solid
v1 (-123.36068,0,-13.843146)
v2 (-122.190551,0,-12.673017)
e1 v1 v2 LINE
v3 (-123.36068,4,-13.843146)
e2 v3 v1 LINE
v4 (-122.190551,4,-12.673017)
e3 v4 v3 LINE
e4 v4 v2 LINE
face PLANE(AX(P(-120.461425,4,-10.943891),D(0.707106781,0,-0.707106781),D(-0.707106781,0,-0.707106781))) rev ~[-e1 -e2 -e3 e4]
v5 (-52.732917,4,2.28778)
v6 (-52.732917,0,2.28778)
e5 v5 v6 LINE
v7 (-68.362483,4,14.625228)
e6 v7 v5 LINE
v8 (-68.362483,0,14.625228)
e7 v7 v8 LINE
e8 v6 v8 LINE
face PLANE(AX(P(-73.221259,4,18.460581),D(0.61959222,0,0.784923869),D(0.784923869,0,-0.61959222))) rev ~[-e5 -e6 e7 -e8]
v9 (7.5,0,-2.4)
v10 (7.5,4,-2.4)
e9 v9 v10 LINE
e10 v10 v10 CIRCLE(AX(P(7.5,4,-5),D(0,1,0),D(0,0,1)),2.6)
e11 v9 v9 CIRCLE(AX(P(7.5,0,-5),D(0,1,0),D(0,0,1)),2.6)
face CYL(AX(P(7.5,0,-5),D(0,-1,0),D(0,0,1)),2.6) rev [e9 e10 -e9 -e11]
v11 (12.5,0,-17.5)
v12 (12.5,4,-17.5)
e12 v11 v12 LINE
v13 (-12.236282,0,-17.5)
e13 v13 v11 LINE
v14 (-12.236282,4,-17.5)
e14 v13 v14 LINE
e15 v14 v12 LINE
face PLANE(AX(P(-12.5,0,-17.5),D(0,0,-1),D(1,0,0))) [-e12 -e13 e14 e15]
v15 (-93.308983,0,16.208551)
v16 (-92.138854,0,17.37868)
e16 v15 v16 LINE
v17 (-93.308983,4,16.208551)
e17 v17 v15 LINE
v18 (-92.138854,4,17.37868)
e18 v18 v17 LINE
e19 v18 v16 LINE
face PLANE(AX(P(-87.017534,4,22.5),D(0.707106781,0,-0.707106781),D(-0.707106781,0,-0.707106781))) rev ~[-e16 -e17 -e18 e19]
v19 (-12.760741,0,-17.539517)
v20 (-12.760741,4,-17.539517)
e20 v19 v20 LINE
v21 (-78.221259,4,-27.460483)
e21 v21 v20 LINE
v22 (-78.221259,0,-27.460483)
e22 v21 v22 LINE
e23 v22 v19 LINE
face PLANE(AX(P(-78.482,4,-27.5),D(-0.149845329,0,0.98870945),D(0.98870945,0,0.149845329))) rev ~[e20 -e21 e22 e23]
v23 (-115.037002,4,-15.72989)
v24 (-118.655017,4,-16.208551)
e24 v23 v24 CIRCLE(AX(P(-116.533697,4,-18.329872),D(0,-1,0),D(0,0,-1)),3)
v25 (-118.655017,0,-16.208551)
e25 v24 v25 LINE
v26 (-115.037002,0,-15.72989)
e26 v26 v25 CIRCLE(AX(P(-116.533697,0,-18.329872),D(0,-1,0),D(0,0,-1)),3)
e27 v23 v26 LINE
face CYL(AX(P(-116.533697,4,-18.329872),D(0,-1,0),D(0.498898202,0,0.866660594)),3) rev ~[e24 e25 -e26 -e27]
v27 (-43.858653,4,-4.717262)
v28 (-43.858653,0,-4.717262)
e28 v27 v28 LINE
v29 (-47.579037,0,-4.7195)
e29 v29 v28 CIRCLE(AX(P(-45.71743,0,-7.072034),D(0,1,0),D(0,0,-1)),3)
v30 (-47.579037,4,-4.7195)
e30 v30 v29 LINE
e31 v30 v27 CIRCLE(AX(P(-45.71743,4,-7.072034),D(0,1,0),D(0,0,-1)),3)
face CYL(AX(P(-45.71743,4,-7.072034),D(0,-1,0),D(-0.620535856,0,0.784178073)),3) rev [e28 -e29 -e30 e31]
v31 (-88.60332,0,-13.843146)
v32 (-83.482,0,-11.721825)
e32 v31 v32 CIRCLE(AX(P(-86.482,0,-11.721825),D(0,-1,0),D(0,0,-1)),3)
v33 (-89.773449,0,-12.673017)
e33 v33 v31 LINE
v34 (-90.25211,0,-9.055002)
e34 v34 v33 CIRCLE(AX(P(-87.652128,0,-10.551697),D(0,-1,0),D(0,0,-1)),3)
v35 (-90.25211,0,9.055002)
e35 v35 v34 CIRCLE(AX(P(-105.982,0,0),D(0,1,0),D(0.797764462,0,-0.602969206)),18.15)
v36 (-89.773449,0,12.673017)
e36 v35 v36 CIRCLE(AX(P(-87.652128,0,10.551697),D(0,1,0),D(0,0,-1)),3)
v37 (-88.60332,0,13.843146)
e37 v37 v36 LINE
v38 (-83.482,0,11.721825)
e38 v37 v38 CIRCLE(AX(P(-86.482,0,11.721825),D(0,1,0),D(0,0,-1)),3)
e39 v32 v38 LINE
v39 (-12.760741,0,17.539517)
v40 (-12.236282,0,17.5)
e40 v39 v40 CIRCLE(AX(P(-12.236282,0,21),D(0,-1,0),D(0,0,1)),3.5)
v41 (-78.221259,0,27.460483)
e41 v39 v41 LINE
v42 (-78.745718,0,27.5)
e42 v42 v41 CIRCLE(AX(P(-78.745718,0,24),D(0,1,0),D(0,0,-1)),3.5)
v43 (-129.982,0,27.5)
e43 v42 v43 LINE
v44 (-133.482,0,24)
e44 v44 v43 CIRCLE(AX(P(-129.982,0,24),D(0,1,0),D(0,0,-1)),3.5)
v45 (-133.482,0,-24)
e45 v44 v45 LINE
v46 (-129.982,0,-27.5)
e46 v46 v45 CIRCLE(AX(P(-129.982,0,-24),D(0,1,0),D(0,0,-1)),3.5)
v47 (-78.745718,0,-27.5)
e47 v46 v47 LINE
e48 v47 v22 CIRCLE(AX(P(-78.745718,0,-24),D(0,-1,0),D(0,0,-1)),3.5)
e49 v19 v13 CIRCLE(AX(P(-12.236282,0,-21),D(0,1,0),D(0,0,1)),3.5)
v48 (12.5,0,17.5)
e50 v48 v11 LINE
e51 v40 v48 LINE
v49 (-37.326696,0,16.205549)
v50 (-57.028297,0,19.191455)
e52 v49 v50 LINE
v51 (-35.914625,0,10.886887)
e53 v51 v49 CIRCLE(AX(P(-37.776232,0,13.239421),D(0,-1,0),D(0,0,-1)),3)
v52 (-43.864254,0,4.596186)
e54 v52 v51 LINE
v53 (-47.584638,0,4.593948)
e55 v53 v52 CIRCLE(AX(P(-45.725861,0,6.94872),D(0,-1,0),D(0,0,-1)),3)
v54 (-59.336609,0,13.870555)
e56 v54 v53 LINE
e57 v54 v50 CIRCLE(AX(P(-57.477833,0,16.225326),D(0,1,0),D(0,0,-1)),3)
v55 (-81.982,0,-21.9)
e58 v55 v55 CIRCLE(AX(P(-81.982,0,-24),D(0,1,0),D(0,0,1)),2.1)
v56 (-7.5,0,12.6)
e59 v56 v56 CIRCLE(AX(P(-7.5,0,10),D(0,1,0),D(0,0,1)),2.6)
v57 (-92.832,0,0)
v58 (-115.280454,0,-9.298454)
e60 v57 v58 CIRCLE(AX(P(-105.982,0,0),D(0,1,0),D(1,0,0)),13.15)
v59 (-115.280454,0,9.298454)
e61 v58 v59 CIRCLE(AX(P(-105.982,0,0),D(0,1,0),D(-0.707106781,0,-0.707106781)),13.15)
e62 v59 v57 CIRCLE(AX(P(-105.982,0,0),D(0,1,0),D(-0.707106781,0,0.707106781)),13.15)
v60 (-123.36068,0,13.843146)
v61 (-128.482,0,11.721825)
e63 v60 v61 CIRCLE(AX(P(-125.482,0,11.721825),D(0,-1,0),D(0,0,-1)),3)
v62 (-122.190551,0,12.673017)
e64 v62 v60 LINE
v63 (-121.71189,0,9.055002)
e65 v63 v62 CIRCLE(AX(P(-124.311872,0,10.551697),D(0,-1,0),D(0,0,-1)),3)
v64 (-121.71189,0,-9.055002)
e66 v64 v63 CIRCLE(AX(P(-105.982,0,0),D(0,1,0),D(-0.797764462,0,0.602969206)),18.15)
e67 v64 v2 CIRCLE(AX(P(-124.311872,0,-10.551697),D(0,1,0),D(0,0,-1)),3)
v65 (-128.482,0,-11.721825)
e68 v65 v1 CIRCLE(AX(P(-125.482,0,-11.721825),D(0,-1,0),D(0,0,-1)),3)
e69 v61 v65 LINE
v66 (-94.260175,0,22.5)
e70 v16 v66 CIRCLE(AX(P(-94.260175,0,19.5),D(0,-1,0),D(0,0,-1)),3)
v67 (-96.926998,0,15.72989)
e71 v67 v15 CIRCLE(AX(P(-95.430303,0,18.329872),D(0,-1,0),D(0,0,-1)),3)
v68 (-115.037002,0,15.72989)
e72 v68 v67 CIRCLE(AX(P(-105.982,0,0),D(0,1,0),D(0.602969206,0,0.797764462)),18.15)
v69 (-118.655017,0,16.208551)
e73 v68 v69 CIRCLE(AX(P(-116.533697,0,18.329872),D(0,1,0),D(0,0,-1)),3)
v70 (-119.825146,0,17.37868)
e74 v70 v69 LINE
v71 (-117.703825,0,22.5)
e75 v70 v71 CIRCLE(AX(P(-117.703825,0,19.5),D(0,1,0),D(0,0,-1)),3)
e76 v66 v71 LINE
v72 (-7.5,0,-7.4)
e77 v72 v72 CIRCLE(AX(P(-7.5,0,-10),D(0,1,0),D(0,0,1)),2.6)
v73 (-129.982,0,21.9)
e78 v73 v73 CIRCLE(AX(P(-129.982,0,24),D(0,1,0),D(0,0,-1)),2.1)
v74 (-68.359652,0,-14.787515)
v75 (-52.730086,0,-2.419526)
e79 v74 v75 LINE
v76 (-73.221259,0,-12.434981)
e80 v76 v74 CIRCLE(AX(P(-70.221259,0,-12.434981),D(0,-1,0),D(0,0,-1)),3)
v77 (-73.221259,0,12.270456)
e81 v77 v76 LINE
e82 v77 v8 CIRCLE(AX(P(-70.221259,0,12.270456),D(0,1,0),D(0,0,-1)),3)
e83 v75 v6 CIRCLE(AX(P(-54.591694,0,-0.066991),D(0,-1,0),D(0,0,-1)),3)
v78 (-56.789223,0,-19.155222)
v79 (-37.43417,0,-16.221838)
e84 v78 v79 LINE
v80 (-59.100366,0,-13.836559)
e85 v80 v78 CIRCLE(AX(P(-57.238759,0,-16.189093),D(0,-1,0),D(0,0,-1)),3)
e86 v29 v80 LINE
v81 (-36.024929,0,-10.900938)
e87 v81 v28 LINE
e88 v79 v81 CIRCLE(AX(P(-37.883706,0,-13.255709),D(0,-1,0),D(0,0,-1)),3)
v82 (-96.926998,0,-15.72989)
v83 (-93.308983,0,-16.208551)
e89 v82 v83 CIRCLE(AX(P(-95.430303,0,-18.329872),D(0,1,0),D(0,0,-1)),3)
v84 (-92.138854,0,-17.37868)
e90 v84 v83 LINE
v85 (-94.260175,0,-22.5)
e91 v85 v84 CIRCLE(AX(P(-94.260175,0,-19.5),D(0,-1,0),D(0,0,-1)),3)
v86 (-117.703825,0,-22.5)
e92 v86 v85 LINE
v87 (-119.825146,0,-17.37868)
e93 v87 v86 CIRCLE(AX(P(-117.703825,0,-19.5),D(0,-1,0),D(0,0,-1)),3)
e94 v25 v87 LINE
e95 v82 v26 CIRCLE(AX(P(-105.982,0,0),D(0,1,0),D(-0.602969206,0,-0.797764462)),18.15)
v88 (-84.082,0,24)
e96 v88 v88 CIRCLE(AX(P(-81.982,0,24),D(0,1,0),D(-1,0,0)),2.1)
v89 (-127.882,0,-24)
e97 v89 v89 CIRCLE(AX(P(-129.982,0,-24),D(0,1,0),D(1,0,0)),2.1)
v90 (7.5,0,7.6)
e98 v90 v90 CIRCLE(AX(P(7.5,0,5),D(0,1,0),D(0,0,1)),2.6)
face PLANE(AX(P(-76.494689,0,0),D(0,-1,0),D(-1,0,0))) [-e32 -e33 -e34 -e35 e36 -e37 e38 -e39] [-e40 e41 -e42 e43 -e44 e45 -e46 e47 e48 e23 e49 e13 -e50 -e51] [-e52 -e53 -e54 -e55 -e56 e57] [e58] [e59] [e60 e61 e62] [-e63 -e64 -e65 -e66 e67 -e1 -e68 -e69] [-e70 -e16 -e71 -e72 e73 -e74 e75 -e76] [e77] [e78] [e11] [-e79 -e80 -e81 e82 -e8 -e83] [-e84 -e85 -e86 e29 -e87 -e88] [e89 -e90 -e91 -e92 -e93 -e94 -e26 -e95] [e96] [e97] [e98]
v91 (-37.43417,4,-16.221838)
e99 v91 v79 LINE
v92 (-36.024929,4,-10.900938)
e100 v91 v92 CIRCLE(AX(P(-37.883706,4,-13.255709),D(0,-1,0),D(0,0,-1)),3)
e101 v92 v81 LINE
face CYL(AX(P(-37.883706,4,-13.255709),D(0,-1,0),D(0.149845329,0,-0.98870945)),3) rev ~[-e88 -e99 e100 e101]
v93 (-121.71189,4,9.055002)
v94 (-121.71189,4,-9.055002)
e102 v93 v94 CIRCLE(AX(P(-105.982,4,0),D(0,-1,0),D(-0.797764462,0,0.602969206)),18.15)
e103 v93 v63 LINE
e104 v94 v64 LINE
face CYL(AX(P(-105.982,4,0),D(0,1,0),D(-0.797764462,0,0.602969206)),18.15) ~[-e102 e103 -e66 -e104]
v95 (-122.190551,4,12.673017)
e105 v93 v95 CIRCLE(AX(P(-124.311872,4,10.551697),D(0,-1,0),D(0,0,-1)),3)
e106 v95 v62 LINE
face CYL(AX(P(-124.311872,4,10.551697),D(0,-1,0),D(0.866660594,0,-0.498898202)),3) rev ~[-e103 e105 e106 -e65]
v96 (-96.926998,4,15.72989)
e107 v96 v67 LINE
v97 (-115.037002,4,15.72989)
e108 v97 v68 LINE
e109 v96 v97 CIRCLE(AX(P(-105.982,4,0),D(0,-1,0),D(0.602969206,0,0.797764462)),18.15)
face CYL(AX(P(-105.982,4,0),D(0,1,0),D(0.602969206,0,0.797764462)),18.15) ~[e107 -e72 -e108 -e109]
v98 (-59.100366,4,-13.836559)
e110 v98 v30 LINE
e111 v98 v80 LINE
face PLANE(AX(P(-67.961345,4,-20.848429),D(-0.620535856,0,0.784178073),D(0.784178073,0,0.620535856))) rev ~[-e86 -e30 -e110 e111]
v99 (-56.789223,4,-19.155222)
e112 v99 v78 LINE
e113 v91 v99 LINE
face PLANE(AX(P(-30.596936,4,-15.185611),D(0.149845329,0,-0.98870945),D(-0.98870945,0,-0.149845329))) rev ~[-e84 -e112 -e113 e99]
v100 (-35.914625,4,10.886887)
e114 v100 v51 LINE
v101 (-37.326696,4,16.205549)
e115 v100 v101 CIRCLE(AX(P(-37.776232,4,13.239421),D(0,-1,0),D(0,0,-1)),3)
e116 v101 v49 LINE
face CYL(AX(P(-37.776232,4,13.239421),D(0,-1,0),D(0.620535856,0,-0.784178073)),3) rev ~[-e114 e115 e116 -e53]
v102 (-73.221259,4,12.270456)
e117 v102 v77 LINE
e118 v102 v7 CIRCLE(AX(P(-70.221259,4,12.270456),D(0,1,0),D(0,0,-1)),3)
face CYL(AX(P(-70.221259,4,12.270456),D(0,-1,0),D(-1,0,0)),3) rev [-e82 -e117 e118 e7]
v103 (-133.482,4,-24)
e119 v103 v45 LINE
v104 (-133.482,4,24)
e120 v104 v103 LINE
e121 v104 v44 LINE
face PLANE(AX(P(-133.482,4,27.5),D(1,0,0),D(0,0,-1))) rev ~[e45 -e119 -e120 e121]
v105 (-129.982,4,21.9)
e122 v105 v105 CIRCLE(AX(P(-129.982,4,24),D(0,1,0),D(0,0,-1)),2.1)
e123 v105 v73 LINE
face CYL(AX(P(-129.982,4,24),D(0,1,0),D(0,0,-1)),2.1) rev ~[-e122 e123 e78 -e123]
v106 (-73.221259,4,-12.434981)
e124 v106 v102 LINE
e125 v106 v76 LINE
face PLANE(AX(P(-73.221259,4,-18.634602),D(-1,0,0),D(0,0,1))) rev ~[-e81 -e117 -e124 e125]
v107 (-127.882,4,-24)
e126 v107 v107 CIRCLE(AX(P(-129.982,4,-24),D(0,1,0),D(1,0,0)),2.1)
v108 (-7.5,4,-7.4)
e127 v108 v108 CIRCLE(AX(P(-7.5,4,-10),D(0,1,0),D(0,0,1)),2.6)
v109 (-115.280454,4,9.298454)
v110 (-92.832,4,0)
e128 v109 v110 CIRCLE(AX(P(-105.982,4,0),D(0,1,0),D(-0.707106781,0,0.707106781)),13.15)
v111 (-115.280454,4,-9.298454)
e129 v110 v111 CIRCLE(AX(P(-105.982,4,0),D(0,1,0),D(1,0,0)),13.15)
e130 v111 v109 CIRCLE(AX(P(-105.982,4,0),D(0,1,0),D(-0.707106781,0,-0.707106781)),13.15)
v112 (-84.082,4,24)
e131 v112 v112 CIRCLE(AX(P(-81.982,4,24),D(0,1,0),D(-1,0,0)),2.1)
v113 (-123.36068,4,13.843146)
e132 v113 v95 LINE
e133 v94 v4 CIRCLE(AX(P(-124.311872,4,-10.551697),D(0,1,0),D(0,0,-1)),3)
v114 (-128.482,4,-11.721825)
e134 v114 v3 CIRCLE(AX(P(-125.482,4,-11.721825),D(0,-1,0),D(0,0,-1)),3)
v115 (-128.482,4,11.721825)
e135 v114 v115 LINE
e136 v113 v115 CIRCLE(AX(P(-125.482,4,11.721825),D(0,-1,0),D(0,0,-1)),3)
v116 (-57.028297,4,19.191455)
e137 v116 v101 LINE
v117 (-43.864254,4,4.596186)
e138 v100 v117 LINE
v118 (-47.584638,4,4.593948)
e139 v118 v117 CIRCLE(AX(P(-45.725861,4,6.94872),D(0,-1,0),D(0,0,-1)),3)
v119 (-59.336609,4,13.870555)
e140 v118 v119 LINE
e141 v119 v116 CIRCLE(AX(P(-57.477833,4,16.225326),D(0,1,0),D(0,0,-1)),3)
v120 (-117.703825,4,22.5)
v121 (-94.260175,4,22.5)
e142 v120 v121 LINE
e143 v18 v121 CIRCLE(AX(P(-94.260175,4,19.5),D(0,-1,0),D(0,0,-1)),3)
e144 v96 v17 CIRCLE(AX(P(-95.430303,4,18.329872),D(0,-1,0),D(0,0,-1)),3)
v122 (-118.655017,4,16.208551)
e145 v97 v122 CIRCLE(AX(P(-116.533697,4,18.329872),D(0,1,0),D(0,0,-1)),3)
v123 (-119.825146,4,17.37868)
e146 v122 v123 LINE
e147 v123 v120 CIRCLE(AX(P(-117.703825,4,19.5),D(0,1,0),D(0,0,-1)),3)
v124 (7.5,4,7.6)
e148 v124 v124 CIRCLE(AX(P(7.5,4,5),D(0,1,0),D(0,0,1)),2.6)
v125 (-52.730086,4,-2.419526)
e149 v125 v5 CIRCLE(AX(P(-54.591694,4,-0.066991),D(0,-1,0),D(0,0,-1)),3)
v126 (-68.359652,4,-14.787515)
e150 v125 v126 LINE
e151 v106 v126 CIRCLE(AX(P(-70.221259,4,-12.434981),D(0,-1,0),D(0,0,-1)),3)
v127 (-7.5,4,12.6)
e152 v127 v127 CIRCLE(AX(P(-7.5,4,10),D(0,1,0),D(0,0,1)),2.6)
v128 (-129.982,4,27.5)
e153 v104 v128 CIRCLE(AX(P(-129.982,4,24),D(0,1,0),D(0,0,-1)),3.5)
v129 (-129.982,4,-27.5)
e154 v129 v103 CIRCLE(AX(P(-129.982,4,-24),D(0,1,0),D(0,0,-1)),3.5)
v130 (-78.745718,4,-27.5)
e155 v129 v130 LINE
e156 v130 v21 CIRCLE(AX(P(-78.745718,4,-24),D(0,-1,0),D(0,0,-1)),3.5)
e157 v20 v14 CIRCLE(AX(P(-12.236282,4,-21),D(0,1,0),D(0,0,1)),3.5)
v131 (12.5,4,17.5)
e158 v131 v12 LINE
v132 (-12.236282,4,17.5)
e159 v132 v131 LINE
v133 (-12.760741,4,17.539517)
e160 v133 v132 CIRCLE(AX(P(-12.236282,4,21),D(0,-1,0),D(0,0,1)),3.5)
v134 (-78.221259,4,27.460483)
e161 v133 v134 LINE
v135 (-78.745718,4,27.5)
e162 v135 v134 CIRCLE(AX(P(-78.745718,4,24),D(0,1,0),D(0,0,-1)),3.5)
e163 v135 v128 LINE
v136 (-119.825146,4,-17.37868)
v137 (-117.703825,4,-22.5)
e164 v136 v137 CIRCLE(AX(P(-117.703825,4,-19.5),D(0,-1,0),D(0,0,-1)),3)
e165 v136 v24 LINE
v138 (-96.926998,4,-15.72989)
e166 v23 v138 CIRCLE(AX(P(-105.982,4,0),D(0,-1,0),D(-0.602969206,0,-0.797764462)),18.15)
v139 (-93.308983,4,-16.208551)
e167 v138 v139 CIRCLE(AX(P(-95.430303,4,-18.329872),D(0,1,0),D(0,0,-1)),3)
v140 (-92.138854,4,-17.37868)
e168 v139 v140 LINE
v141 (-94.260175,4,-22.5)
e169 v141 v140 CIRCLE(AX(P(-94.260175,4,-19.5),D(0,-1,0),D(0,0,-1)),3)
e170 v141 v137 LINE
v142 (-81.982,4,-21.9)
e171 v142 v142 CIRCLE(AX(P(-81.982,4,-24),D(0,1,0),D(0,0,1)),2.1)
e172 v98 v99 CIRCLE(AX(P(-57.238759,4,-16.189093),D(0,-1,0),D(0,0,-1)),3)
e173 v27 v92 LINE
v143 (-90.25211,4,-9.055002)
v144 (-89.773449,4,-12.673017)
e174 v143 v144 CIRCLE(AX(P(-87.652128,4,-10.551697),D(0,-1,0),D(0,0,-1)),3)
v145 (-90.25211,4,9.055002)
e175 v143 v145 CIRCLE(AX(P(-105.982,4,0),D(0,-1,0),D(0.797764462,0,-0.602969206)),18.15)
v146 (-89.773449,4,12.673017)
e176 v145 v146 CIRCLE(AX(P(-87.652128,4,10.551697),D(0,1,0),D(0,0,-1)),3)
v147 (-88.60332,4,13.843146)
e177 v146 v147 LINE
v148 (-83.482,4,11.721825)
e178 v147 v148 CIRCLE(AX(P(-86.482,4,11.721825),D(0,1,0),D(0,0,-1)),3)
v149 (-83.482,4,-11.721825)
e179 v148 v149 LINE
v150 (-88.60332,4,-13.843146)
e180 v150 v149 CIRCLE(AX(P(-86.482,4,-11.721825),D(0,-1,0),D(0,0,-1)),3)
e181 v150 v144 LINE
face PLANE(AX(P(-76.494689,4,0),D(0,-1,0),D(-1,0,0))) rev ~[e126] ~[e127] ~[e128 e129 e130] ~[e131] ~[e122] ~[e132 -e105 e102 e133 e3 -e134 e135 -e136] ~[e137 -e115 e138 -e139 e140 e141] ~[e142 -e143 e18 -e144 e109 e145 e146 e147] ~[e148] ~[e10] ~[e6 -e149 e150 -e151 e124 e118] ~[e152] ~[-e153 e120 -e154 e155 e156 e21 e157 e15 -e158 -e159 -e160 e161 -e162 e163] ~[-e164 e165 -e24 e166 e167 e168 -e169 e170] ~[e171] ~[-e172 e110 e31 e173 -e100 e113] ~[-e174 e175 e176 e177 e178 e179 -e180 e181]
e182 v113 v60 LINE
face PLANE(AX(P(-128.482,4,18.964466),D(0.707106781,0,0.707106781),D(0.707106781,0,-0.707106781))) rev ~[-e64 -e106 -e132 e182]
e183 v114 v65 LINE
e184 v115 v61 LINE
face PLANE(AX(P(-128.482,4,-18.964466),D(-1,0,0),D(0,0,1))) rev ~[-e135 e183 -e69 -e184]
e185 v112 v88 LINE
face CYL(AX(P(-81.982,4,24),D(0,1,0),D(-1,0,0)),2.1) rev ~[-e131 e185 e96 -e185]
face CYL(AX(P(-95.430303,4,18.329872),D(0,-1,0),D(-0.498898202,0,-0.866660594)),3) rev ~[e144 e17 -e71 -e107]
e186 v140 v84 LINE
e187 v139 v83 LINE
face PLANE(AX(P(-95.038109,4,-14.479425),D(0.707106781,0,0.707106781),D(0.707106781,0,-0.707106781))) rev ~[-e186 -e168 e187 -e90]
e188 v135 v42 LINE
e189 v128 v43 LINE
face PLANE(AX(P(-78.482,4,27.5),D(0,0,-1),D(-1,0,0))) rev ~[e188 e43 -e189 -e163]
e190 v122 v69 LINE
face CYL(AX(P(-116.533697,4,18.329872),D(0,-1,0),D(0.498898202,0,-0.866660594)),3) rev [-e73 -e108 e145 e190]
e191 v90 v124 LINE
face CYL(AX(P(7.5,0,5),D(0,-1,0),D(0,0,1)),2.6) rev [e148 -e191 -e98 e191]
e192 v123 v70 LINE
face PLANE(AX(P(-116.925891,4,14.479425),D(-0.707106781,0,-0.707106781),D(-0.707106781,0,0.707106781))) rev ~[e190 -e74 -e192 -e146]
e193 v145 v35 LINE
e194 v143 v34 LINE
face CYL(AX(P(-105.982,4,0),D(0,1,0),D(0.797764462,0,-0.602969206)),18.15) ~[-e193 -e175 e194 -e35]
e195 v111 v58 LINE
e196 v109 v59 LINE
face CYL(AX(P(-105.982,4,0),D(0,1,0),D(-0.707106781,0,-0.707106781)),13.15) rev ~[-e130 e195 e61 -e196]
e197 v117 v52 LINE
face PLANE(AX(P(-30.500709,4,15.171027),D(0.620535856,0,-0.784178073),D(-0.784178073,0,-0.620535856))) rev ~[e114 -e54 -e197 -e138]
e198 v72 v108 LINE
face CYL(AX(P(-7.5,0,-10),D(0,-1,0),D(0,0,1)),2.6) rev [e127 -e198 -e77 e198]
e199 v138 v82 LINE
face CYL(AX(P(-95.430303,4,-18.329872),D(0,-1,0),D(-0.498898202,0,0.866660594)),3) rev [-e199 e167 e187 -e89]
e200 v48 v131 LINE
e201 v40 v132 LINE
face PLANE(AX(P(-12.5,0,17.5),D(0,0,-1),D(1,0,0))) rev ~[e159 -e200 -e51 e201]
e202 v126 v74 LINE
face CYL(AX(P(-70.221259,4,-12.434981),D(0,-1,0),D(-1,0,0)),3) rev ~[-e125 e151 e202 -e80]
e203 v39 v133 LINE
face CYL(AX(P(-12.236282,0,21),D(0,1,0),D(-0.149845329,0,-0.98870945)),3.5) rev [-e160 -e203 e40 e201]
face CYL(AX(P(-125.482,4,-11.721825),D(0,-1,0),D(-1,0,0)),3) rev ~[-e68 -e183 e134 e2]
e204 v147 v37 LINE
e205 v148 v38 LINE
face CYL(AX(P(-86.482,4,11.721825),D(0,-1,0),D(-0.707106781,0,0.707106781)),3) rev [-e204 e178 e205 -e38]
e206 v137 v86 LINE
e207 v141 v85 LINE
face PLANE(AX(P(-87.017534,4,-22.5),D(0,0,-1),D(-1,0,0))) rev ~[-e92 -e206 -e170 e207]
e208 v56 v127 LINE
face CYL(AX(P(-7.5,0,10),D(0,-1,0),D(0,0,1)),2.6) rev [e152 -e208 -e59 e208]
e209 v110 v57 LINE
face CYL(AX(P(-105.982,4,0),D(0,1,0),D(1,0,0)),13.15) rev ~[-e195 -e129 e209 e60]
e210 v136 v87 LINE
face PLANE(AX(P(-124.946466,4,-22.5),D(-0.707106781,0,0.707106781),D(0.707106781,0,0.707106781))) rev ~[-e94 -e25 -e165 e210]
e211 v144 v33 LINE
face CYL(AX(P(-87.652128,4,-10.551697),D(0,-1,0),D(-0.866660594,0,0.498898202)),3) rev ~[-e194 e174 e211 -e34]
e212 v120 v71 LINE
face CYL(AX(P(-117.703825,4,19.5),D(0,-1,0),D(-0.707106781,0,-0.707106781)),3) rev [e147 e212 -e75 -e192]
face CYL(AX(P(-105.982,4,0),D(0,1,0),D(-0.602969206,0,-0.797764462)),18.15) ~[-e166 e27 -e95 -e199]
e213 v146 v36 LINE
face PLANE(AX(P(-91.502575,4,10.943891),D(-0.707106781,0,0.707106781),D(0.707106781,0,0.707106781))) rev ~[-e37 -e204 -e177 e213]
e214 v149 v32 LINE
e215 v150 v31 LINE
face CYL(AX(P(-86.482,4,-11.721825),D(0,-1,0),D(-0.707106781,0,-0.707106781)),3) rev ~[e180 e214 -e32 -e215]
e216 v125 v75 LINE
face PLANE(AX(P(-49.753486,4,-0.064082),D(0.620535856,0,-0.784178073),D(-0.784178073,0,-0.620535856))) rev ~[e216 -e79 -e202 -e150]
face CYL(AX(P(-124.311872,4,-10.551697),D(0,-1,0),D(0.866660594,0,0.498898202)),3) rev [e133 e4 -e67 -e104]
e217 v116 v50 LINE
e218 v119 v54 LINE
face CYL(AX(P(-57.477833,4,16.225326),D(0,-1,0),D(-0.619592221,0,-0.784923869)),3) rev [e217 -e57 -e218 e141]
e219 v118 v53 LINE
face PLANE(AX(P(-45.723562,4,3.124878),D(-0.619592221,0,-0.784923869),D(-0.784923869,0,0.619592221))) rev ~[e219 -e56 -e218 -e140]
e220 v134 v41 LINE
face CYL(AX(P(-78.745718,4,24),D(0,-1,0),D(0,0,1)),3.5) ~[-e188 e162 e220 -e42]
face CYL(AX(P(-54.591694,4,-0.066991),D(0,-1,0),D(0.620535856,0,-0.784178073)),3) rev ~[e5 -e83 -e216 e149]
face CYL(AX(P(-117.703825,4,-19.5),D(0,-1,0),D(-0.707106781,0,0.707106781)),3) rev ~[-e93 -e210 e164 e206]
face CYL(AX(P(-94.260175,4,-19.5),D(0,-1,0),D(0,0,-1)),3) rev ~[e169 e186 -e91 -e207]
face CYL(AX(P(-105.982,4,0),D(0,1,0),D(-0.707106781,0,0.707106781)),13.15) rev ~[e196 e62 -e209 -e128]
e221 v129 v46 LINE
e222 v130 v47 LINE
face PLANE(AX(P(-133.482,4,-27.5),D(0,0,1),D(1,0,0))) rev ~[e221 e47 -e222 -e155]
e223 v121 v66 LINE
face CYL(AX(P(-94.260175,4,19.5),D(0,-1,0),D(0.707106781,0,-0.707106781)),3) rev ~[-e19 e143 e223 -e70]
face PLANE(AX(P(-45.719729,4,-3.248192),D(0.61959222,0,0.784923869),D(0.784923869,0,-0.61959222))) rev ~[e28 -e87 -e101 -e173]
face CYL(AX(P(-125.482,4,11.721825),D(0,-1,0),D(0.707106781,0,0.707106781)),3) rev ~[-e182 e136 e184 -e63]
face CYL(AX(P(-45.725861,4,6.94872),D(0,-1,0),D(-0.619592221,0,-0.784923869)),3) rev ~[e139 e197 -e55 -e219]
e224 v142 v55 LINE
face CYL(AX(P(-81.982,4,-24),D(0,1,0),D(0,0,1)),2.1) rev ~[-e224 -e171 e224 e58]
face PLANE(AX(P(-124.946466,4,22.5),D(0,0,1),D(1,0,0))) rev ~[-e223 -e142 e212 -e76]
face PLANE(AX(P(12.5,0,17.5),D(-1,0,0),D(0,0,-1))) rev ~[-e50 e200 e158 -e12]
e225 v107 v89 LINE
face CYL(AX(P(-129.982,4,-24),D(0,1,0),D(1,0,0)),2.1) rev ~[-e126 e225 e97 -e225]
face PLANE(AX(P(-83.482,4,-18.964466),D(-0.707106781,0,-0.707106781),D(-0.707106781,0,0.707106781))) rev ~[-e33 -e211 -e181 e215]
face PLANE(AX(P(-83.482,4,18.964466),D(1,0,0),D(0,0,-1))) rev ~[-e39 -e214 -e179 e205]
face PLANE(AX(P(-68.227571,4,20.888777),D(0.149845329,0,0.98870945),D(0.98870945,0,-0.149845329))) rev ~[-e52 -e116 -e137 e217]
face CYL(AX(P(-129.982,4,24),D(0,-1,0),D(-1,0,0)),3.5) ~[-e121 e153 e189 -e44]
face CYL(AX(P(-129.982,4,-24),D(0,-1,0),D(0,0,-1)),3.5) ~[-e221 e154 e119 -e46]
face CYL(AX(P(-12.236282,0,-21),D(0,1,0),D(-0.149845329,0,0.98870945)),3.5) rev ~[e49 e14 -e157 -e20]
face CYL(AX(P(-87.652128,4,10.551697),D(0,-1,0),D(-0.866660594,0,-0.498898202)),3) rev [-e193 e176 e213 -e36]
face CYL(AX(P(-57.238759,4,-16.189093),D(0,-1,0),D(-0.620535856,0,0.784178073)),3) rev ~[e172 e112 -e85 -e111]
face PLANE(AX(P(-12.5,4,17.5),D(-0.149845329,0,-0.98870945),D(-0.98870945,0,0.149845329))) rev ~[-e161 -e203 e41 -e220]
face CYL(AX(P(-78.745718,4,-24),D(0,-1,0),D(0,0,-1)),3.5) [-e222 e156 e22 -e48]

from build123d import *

# Parameters (mm, degrees)
SKETCH_1_W                       = 25
SKETCH_1_H                       = 35
SKETCH_1_R                       = 2.6
EXTRUDE_1_DEPTH                  = 4
EXTRUDE_2_DEPTH                  = 4
FILLET_1_R                       = 3.5
CUT_EXTRUDE_1_DEPTH              = 10
SKETCH_4_R                       = 2.1
CUT_EXTRUDE_2_DEPTH              = 10
PATTERN_CIRCULAR_1_COUNT         = 4
CUT_EXTRUDE_3_DEPTH              = 10
FILLET_2_R                       = 3
PATTERN_CIRCULAR_2_COUNT         = 4
FILLET_2_OF_PATTERN_CIRCULAR_2_R = 3
CUT_EXTRUDE_4_DEPTH              = 10
FILLET_3_R                       = 3


with BuildPart() as part:
    # 草图1 → 凸台-拉伸1 (new body)
    with BuildSketch(Plane(origin=(0, 0, 0), x_dir=(1, 0, 0), z_dir=(0, 1, 0))):
        Rectangle(SKETCH_1_W, SKETCH_1_H)
        with Locations(Location((7.5, 5, 0), (0, 0, 270))):
            Circle(SKETCH_1_R, mode=Mode.SUBTRACT)
        with Locations(Location((7.5, -5, 0), (0, 0, 270))):
            Circle(SKETCH_1_R, mode=Mode.SUBTRACT)
        with Locations(Location((-7.5, -10, 0), (0, 0, 270))):
            Circle(SKETCH_1_R, mode=Mode.SUBTRACT)
        with Locations(Location((-7.5, 10, 0), (0, 0, 270))):
            Circle(SKETCH_1_R, mode=Mode.SUBTRACT)
    extrude(amount=EXTRUDE_1_DEPTH)


with BuildPart() as body_2:
    # 草图2 → 凸台-拉伸2 (new body)
    with BuildSketch(Plane(origin=(0, 4, 0), x_dir=(1, 0, 0), z_dir=(0, 1, 0))):
        Polygon((-133.482, 27.5), (-78.482, 27.5), (-12.5, 17.5), (-12.5, -17.5), (-78.482, -27.5), (-133.482, -27.5), align=None)
    extrude(amount=-EXTRUDE_2_DEPTH)


with BuildPart() as part_1:
    add(part.part)

    # Combine 1: union body 2
    add(body_2.part)

    # 圆角1
    fillet_1_edges = [part_1.edges().sort_by_distance(p)[0] for p in [
        (-12.5, 2, -17.5),
        (-12.5, 2, 17.5),
        (-78.482, 2, 27.5),
        (-133.482, 2, 27.5),
        (-133.482, 2, -27.5),
        (-78.482, 2, -27.5),
    ]]
    fillet(fillet_1_edges, radius=FILLET_1_R)

    # 草图3 → 切除-拉伸1 (cut)
    with BuildSketch(Plane(origin=(0, 4, 0), x_dir=(1, 0, 0), z_dir=(0, 1, 0))):
        with BuildLine():
            ThreePointArc((-92.832, 0), (-100.949712864, 12.149015853), (-115.280454173, 9.298454173))
            Line((-115.280454173, 9.298454173), (-105.982, 0))
            Line((-105.982, 0), (-115.280454173, -9.298454173))
            ThreePointArc((-115.280454173, -9.298454173), (-100.949712864, -12.149015853), (-92.832, 0))
        make_face()
        with BuildLine():
            Line((-105.982, 0), (-115.280454173, 9.298454173))
            ThreePointArc((-115.280454173, 9.298454173), (-119.132, 0), (-115.280454173, -9.298454173))
            Line((-115.280454173, -9.298454173), (-105.982, 0))
        make_face()
        with BuildLine():
            ThreePointArc((-92.832, 0), (-100.949712864, 12.149015853), (-115.280454173, 9.298454173))
            Line((-115.280454173, 9.298454173), (-105.982, 0))
            Line((-105.982, 0), (-115.280454173, -9.298454173))
            ThreePointArc((-115.280454173, -9.298454173), (-100.949712864, -12.149015853), (-92.832, 0))
        make_face()
        with BuildLine():
            Line((-105.982, 0), (-115.280454173, 9.298454173))
            ThreePointArc((-115.280454173, 9.298454173), (-119.132, 0), (-115.280454173, -9.298454173))
            Line((-115.280454173, -9.298454173), (-105.982, 0))
        make_face()
    extrude(amount=-CUT_EXTRUDE_1_DEPTH, mode=Mode.SUBTRACT)

    # 草图4 → 切除-拉伸2 (cut)
    with BuildSketch(Plane(origin=(0, 4, 0), x_dir=(1, 0, 0), z_dir=(0, 1, 0))):
        with Locations(Location((-81.982, 24, 0), (0, 0, 270))):
            Circle(SKETCH_4_R)
    cut_extrude_2 = extrude(amount=-CUT_EXTRUDE_2_DEPTH, mode=Mode.SUBTRACT)

    # 阵列(圆周)1: 切除-拉伸2 ×4 about axis
    pattern_circular_1_axis = Axis((-105.982, 0, 0), (0, 1, 0))
    for i in range(1, PATTERN_CIRCULAR_1_COUNT):
        add(cut_extrude_2.rotate(pattern_circular_1_axis, i * 360 / PATTERN_CIRCULAR_1_COUNT), mode=Mode.SUBTRACT)

    # 草图5 → 切除-拉伸3 (cut)
    with BuildSketch(Plane(origin=(0, 4, 0), x_dir=(1, 0, 0), z_dir=(0, 1, 0))):
        with BuildLine():
            Line((-120.461424988, 10.943891082), (-128.482, 18.964466094))
            Line((-128.482, 18.964466094), (-128.482, -18.964466094))
            Line((-128.482, -18.964466094), (-120.461424988, -10.943891082))
            ThreePointArc((-120.461424988, -10.943891082), (-124.132, 0), (-120.461424988, 10.943891082))
        make_face()
    cut_extrude_3 = extrude(amount=-CUT_EXTRUDE_3_DEPTH, mode=Mode.SUBTRACT)

    # 圆角2
    fillet_2_edges = [part_1.edges().sort_by_distance(p)[0] for p in [
        (-120.461424988, 2, -10.943891082),
        (-120.461424988, 2, 10.943891082),
        (-128.482, 2, 18.964466094),
        (-128.482, 2, -18.964466094),
    ]]
    fillet(fillet_2_edges, radius=FILLET_2_R)

    # 阵列(圆周)2: 切除-拉伸3 ×4 about axis
    pattern_circular_2_axis = Axis((-105.982, 0, 0), (0, 1, 0))
    for i in range(1, PATTERN_CIRCULAR_2_COUNT):
        add(cut_extrude_3.rotate(pattern_circular_2_axis, i * 360 / PATTERN_CIRCULAR_2_COUNT), mode=Mode.SUBTRACT)

    # 圆角2 of 阵列(圆周)2
    fillet_2_of_pattern_circular_2_edges = [part_1.edges().sort_by_distance(p)[0] for p in [
        (-116.925891082, 2, 14.479424988),
        (-95.038108918, 2, 14.479424988),
        (-87.017533906, 2, 22.5),
        (-124.946466094, 2, 22.5),
        (-91.502575012, 2, 10.943891082),
        (-91.502575012, 2, -10.943891082),
        (-83.482, 2, -18.964466094),
        (-83.482, 2, 18.964466094),
        (-95.038108918, 2, -14.479424988),
        (-116.925891082, 2, -14.479424988),
        (-124.946466094, 2, -22.5),
        (-87.017533906, 2, -22.5),
    ]]
    fillet(fillet_2_of_pattern_circular_2_edges, radius=FILLET_2_OF_PATTERN_CIRCULAR_2_R)

    # 草图6 → 切除-拉伸4 (cut)
    with BuildSketch(Plane(origin=(0, 4, 0), x_dir=(1, 0, 0), z_dir=(0, 1, 0))):
        Polygon((-73.221259435, -18.460580976), (-49.753485721, 0.064081858), (-73.221259435, 18.634602448), align=None)
        Polygon((-45.719729218, 3.248192123), (-30.596936447, 15.18561067), (-67.961344653, 20.848429046), align=None)
        Polygon((-68.227570637, -20.88877732), (-30.500709207, -15.171026808), (-45.723561893, -3.124877792), align=None)
    extrude(amount=-CUT_EXTRUDE_4_DEPTH, mode=Mode.SUBTRACT)

    # 圆角3
    fillet_3_edges = [part_1.edges().sort_by_distance(p)[0] for p in [
        (-30.500709207, 2, 15.171026808),
        (-68.227570637, 2, 20.88877732),
        (-45.723561893, 2, 3.124877792),
        (-45.719729218, 2, -3.248192123),
        (-67.961344653, 2, -20.848429046),
        (-30.596936447, 2, -15.18561067),
        (-73.221259435, 2, 18.460580976),
        (-73.221259435, 2, -18.634602448),
        (-49.753485721, 2, -0.064081858),
    ]]
    fillet(fillet_3_edges, radius=FILLET_3_R)


solid = part_1.part
